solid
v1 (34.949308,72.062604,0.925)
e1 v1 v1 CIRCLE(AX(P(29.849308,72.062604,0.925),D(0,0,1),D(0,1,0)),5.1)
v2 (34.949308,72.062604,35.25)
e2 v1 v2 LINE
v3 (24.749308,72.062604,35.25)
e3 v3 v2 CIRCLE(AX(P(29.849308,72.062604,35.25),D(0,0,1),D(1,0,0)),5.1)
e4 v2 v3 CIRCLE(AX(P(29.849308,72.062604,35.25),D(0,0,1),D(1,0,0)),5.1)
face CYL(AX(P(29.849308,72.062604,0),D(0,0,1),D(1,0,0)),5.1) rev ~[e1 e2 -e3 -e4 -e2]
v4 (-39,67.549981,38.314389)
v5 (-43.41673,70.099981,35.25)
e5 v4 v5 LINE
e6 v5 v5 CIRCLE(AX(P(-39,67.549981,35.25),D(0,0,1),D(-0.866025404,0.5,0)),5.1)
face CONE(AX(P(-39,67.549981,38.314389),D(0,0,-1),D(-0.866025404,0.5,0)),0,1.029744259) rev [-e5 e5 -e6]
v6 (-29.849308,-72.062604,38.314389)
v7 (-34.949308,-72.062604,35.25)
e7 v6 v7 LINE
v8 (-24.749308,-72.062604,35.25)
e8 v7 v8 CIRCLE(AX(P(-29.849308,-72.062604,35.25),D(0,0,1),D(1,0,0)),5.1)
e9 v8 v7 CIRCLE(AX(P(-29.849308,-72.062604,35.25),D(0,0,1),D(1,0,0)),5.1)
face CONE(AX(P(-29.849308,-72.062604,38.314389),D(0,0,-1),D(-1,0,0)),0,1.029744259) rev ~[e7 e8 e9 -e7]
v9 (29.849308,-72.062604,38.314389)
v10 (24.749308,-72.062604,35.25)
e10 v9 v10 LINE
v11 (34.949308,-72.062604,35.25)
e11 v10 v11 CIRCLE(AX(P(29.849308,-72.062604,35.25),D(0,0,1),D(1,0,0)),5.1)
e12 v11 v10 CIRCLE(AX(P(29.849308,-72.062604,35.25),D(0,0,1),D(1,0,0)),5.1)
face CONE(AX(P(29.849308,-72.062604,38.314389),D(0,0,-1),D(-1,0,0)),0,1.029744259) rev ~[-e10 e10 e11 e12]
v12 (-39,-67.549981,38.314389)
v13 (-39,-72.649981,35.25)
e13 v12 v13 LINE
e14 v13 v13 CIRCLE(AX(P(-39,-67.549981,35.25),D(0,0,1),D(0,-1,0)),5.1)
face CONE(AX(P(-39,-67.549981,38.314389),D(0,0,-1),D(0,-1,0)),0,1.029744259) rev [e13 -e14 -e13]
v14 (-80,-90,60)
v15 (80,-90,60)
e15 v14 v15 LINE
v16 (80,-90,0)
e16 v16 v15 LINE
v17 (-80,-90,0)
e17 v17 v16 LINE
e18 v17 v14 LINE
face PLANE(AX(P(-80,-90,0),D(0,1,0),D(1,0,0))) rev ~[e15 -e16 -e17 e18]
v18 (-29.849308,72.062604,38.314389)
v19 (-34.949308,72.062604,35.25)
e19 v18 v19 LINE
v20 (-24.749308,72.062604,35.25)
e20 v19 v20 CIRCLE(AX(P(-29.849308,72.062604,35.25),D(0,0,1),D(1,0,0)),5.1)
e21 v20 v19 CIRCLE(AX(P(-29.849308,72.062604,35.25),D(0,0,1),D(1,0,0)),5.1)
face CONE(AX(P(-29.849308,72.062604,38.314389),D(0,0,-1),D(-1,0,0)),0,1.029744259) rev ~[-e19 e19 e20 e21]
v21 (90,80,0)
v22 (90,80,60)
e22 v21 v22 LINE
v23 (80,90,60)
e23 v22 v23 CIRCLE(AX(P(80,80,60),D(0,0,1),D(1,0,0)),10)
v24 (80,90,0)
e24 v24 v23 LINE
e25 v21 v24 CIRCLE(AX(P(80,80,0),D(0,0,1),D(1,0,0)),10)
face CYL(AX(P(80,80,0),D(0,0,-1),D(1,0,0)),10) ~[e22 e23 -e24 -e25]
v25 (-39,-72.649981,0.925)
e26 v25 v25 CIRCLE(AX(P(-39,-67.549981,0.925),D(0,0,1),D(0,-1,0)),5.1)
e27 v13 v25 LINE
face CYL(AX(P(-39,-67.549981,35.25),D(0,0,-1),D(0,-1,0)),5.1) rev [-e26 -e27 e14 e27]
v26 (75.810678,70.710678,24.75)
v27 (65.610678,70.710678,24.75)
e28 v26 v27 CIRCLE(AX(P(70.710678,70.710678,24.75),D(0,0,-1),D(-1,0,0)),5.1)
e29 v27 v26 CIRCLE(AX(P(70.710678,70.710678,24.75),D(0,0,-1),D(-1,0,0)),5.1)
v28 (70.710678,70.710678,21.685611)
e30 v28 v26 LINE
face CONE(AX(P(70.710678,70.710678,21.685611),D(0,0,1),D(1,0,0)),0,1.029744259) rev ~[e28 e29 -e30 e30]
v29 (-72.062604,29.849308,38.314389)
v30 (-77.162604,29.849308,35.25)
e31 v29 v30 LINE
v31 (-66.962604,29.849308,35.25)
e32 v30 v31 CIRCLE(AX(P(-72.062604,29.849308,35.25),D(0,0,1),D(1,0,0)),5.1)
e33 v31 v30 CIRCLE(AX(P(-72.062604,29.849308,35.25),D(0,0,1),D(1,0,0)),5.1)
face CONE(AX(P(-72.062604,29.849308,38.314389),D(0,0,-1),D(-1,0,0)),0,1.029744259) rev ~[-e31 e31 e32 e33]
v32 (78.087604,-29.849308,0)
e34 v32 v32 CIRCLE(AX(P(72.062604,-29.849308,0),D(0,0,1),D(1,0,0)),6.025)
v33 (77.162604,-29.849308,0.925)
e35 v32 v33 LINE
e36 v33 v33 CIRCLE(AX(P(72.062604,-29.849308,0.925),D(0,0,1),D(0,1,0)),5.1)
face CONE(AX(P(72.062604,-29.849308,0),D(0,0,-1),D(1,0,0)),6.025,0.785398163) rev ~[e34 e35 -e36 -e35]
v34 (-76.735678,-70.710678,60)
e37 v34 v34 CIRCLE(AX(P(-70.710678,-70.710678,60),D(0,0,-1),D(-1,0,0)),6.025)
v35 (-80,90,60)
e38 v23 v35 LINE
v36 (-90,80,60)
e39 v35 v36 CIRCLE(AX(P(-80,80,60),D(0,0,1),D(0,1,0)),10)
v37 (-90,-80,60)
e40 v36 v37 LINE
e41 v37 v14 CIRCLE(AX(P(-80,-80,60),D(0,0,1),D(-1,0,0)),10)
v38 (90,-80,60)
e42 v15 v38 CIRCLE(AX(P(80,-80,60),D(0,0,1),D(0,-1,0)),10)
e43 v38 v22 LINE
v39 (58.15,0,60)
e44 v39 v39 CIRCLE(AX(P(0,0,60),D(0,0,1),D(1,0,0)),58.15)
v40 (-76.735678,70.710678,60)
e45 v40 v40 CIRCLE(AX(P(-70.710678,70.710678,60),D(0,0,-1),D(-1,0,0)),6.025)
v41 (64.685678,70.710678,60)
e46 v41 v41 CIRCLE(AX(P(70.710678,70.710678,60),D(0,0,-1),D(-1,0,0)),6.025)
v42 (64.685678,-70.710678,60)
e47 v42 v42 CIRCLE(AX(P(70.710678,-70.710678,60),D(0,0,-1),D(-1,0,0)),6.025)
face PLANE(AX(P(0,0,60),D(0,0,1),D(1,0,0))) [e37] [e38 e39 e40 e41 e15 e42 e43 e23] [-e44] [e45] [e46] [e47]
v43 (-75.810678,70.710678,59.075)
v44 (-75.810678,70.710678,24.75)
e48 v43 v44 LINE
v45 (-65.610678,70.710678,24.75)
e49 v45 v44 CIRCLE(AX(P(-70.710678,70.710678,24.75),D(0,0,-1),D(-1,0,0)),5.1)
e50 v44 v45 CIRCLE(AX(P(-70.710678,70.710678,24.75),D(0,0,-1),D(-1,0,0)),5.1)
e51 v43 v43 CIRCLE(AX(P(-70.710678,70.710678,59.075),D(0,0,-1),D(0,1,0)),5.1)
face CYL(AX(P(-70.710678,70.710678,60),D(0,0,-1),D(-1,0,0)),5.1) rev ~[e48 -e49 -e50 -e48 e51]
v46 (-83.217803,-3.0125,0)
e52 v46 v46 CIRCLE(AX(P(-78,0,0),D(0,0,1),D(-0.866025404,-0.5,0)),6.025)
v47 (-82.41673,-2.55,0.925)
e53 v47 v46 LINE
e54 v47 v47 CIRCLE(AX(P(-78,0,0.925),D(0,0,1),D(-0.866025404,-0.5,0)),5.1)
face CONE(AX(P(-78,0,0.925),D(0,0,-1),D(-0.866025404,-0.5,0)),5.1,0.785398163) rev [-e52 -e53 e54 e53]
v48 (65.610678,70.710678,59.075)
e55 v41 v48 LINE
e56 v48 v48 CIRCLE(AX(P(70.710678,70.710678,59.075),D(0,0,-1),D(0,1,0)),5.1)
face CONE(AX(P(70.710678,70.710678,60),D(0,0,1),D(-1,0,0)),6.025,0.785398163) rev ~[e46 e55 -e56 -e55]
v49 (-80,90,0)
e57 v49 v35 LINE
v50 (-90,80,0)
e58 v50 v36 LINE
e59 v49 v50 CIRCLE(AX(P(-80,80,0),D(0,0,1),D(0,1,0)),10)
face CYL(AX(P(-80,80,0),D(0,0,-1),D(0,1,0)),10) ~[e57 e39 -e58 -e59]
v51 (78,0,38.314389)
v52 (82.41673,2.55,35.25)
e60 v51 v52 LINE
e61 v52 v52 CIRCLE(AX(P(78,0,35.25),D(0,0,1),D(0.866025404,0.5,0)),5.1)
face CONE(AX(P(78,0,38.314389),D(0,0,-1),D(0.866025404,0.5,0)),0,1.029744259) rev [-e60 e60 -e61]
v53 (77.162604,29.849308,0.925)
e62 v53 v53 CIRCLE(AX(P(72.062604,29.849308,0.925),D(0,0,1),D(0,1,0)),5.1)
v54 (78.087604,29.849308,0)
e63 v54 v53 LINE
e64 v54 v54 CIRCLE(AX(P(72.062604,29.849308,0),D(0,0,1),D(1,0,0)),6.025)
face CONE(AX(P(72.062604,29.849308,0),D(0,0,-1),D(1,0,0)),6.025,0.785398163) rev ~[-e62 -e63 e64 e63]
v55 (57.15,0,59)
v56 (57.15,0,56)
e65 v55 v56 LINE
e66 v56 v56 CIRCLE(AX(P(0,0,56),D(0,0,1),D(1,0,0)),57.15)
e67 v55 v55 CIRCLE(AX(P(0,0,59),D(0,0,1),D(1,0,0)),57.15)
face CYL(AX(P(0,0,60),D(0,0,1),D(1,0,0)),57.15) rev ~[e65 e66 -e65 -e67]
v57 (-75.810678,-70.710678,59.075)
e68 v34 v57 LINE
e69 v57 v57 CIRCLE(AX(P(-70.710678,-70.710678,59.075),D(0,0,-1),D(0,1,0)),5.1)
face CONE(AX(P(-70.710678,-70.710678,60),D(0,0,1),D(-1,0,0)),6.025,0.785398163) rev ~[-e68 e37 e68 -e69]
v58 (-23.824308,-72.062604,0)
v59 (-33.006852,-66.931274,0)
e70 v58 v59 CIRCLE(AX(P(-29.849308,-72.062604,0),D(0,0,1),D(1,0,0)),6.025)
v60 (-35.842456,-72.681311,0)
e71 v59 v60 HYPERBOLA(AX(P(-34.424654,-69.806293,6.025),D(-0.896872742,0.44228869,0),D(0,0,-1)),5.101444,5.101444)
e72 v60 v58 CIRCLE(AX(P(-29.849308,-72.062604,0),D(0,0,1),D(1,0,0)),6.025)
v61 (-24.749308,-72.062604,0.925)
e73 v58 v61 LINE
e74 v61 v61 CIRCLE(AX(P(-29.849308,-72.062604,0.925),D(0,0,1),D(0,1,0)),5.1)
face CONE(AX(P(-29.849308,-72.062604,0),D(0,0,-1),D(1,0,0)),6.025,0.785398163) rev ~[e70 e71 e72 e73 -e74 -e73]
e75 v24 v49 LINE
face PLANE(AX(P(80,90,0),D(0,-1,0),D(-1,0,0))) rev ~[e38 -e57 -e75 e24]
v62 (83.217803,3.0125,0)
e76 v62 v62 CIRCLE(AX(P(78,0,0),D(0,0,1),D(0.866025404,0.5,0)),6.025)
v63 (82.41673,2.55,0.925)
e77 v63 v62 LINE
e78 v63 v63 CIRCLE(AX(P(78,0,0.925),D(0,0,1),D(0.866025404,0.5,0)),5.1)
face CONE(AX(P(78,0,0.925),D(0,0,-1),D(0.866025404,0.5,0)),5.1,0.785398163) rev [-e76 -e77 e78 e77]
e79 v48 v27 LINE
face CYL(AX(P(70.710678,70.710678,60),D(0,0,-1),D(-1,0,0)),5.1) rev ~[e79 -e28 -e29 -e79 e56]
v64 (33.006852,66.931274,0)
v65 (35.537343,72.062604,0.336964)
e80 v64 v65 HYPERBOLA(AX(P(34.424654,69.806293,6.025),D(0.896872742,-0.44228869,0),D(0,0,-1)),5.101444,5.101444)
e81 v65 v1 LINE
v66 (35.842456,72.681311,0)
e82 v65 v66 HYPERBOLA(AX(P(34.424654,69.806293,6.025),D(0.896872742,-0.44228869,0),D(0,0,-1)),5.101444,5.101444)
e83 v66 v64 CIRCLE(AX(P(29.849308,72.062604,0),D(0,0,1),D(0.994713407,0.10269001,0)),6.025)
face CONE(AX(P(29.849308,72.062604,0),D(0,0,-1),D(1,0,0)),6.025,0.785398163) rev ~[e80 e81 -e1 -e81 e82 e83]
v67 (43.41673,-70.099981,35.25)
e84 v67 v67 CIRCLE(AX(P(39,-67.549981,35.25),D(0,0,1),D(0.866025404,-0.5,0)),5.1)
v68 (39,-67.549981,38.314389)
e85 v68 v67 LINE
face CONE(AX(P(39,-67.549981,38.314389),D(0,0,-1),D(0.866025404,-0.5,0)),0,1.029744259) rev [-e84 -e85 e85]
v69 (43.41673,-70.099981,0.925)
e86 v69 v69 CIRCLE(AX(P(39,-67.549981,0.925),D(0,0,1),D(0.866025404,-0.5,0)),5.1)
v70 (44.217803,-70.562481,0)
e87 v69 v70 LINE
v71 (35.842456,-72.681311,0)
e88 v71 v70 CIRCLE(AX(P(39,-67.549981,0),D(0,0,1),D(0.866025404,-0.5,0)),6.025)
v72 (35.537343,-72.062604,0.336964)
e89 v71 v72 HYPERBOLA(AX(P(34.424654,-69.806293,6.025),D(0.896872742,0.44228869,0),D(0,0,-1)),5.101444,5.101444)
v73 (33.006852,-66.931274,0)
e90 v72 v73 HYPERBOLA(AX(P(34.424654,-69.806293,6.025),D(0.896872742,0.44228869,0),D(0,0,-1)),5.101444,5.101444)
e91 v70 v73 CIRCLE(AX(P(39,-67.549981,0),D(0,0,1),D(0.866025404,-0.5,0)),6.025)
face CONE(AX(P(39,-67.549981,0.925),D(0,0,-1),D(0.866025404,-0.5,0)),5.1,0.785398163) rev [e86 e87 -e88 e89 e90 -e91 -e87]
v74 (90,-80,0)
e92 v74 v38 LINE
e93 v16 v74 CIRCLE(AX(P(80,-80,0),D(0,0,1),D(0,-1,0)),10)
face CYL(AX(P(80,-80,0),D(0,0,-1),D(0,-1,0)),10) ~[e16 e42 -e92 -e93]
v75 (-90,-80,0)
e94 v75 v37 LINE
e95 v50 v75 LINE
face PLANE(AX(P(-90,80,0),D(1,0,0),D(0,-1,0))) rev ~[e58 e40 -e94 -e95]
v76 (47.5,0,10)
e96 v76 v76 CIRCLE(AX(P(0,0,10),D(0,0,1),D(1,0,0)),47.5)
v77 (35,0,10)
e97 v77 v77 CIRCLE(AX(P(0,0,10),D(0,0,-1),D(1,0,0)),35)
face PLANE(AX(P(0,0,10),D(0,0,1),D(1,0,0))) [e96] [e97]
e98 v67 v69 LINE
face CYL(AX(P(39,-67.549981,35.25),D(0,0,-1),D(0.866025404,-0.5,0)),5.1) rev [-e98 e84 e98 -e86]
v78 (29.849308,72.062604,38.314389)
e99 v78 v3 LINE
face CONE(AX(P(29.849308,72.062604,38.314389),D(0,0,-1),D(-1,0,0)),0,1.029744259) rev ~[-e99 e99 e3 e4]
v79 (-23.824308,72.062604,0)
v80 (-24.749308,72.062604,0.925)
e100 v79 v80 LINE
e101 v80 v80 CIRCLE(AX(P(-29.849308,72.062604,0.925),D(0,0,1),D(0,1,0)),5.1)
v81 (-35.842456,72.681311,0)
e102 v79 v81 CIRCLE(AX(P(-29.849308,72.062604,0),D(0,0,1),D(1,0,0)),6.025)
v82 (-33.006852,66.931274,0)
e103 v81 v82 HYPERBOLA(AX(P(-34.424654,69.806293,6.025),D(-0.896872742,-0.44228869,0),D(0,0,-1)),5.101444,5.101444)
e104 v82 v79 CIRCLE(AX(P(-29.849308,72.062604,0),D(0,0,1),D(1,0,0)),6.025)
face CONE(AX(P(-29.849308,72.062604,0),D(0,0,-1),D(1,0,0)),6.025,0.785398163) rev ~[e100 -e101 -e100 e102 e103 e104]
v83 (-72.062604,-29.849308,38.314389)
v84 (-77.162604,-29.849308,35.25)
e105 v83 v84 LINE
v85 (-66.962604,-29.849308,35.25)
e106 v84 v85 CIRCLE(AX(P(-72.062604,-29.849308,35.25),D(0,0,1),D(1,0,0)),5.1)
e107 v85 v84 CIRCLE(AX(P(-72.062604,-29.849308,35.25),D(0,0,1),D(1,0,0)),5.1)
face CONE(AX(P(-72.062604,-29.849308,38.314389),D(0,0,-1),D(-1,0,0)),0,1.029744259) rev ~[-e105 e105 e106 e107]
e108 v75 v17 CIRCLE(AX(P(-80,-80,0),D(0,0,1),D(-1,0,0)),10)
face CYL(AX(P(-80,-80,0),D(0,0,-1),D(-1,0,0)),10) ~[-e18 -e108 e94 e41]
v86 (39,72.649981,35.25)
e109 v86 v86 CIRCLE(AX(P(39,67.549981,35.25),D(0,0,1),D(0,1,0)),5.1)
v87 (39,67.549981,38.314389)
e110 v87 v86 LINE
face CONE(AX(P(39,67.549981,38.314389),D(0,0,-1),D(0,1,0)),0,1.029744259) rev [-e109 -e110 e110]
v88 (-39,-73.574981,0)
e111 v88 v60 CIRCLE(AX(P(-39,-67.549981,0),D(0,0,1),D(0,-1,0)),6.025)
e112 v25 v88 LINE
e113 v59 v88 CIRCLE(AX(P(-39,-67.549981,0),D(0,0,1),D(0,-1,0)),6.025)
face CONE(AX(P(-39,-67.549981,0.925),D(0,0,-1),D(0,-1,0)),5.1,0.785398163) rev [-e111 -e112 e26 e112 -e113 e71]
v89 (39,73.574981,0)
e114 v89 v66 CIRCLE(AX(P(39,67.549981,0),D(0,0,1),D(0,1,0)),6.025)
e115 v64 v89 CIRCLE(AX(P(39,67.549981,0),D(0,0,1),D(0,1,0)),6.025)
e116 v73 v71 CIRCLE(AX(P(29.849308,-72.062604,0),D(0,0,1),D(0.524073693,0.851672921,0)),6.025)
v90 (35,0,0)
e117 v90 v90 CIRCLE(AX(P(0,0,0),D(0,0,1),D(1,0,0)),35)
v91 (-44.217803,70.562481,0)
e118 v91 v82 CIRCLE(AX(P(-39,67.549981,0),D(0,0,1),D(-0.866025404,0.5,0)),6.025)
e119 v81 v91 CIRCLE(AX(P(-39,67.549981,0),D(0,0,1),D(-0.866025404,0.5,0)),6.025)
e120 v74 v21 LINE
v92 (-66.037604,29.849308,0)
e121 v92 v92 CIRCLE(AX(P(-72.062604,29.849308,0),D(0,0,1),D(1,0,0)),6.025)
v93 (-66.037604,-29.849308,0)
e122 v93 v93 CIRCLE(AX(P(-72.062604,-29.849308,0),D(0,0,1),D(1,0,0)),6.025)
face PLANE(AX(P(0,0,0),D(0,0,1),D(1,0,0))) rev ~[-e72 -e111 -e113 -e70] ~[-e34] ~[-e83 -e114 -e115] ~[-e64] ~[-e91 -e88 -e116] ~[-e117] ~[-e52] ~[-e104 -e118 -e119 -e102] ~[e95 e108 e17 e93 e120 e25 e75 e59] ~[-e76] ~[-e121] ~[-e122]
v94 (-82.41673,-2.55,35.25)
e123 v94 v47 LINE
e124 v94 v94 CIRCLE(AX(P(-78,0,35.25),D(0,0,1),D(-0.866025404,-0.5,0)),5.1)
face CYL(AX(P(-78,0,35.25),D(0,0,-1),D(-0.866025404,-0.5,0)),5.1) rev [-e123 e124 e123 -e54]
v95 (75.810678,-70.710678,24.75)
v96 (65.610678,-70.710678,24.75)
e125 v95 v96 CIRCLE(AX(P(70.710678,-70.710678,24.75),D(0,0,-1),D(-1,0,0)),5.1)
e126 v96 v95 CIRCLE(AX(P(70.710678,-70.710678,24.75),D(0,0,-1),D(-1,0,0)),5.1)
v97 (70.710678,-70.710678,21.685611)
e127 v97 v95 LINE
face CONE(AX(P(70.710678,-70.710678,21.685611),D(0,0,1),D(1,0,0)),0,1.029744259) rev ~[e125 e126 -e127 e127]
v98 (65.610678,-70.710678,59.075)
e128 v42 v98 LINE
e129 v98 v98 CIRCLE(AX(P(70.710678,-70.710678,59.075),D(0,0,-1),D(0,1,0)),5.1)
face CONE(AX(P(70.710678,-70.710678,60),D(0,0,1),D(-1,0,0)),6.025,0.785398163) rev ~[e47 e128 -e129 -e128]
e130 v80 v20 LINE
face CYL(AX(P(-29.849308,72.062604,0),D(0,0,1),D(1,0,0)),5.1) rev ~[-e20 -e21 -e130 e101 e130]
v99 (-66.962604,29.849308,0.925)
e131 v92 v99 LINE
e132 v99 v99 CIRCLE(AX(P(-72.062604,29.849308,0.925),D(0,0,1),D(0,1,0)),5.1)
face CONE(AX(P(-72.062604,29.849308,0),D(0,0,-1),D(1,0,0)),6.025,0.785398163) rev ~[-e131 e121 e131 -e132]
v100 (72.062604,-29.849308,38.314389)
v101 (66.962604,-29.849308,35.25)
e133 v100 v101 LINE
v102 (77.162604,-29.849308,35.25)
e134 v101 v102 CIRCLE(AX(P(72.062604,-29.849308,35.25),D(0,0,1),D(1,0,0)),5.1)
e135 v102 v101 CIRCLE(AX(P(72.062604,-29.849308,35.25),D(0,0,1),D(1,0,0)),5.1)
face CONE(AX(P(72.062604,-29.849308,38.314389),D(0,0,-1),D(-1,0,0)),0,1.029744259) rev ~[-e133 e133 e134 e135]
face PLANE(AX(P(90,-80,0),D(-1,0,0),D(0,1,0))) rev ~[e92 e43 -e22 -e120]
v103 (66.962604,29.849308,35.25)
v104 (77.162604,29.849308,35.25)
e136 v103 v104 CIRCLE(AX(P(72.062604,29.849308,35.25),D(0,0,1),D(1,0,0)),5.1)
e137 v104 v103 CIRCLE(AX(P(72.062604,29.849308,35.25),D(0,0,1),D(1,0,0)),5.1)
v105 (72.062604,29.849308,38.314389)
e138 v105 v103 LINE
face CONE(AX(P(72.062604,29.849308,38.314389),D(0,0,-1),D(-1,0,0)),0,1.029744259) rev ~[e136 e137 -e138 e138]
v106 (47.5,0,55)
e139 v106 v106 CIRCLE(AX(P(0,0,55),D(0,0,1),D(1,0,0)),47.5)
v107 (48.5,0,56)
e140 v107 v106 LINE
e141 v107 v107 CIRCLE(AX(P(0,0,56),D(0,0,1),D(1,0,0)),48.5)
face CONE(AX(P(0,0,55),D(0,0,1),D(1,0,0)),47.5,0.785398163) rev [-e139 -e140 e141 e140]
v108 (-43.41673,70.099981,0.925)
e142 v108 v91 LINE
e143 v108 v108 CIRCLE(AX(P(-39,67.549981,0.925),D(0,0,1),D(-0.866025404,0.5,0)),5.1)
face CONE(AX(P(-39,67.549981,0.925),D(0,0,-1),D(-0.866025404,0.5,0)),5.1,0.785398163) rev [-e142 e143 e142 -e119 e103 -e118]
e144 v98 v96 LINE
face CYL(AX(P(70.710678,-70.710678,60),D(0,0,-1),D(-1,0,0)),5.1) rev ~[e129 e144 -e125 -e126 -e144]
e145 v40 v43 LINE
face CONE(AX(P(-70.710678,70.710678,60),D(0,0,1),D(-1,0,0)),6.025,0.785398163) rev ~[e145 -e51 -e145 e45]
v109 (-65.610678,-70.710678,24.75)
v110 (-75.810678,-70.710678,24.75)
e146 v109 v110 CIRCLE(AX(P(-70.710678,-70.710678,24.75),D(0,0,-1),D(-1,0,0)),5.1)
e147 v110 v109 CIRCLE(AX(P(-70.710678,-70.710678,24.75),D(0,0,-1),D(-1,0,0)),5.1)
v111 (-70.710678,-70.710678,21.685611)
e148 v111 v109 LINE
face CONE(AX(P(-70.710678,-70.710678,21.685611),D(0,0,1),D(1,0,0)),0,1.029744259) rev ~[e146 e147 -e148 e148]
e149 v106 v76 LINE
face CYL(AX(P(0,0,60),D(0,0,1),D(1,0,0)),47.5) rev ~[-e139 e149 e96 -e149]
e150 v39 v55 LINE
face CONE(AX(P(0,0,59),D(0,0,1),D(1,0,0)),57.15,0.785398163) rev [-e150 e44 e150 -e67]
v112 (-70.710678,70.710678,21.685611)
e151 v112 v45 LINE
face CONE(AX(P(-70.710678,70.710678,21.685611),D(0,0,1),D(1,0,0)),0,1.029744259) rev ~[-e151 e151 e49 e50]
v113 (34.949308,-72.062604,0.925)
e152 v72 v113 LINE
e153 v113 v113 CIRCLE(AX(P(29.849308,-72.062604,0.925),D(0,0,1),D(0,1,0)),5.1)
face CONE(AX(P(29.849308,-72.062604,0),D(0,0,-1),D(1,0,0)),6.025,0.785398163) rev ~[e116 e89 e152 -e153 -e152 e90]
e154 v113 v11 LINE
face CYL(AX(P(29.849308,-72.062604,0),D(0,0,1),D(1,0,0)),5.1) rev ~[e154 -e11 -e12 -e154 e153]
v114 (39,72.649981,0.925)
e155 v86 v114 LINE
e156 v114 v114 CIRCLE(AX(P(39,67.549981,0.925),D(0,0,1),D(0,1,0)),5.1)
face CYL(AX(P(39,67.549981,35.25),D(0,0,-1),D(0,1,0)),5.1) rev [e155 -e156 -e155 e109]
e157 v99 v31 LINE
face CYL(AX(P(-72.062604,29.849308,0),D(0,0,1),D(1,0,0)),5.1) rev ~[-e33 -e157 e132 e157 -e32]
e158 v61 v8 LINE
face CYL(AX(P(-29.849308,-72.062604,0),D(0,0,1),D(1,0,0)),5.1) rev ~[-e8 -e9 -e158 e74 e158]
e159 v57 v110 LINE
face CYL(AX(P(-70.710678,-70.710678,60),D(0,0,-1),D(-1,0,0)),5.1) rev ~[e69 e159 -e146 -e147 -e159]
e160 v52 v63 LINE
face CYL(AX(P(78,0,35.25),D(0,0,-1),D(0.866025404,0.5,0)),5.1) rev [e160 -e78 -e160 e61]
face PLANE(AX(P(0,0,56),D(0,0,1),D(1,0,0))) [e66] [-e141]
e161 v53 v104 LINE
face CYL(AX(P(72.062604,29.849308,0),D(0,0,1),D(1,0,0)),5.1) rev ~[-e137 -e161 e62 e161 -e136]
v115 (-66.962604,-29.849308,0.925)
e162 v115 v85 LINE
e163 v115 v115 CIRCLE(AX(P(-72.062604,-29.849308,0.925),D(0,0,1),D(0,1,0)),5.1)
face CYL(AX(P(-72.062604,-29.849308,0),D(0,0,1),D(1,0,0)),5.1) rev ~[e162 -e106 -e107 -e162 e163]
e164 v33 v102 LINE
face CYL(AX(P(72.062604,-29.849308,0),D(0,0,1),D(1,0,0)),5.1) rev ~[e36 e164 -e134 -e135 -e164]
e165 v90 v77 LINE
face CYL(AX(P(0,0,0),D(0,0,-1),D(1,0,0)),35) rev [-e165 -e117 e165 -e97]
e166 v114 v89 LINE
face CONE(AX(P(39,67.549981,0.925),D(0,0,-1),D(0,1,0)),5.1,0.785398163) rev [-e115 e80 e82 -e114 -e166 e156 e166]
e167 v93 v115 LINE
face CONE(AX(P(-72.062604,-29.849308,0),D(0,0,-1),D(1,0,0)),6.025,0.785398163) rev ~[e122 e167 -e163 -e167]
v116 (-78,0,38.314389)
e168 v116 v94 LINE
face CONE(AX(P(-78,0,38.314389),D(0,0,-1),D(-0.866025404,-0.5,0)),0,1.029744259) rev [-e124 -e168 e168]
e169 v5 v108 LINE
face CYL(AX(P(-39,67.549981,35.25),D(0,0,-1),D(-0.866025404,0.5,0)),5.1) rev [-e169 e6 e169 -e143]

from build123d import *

# Parameters (mm, degrees)
SKETCH1_R                         = 35
BOSS_EXTRUDE1_DEPTH               = 60
M12X1_75_TAPPED_HOLE1_D           = 10.2
M12X1_75_TAPPED_HOLE1_DEPTH       = 35.25
M12X1_75_TAPPED_HOLE1_CSINK_D     = 12.05
M12X1_75_TAPPED_HOLE1_CSINK_ANGLE = 90
M12X1_75_TAPPED_HOLE1_TIP         = 3.064389157
SKETCH5_R                         = 57.15
CUT_EXTRUDE1_DEPTH                = 4
CIRPATTERN1_COUNT                 = 6
SKETCH9_R                         = 47.5
CUT_EXTRUDE2_DEPTH                = 50
CHAMFER1_SIZE                     = 1
M12_TAPPED_HOLE2_D                = 10.2
M12_TAPPED_HOLE2_DEPTH            = 35.25
M12_TAPPED_HOLE2_CSINK_D          = 12.05
M12_TAPPED_HOLE2_CSINK_ANGLE      = 90
M12_TAPPED_HOLE2_TIP              = 3.064389157


with BuildPart() as part:
    # Sketch1 → Boss-Extrude1 (new body)
    with BuildSketch(Plane.XY):
        with BuildLine():
            Line((-80, -90), (80, -90))
            ThreePointArc((80, -90), (87.071067812, -87.071067812), (90, -80))
            Line((90, -80), (90, 80))
            ThreePointArc((90, 80), (87.071067812, 87.071067812), (80, 90))
            Line((80, 90), (-80, 90))
            ThreePointArc((-80, 90), (-87.071067812, 87.071067812), (-90, 80))
            Line((-90, 80), (-90, -80))
            ThreePointArc((-90, -80), (-87.071067812, -87.071067812), (-80, -90))
        make_face()
        Circle(SKETCH1_R, mode=Mode.SUBTRACT)
    extrude(amount=BOSS_EXTRUDE1_DEPTH)

    # M12x1.75 Tapped Hole1
    with Locations(Plane.XY.offset(60)):
        with Locations((-70.710678119, 70.710678119), (70.710678119, 70.710678119), (70.710678119, -70.710678119), (-70.710678119, -70.710678119)):
            CounterSinkHole(M12X1_75_TAPPED_HOLE1_D / 2, M12X1_75_TAPPED_HOLE1_CSINK_D / 2, depth=M12X1_75_TAPPED_HOLE1_DEPTH, counter_sink_angle=M12X1_75_TAPPED_HOLE1_CSINK_ANGLE)
            with Locations((0, 0, -(M12X1_75_TAPPED_HOLE1_DEPTH + M12X1_75_TAPPED_HOLE1_TIP / 2))):  # 118° drill point
                Cone(0, M12X1_75_TAPPED_HOLE1_D / 2, M12X1_75_TAPPED_HOLE1_TIP, mode=Mode.SUBTRACT)

    # Sketch5 → Cut-Extrude1 (cut)
    with BuildSketch(Plane.XY.offset(60)):
        Circle(SKETCH5_R)
    extrude(amount=-CUT_EXTRUDE1_DEPTH, mode=Mode.SUBTRACT)

    # Sketch8 → M12 Tapped Hole1 (revolve, cut)
    with BuildSketch(Plane(origin=(39, 67.549981495, 0), x_dir=(0, 1, 0), z_dir=(1, 0, 0))):
        Polygon((0, 0), (0, 38.314389157), (5.1, 35.25), (5.1, 0.925), (6.025, 0), align=None)
    m12_tapped_hole1 = revolve(axis=Axis((39, 67.549981495, -6.35), (0, 0, 1)), mode=Mode.SUBTRACT)

    # CirPattern1: M12 Tapped Hole1 ×6 about axis
    cirpattern1_axis = Axis((0, 0, 0), (0, 0, 1))
    for i in range(1, CIRPATTERN1_COUNT):
        add(m12_tapped_hole1.rotate(cirpattern1_axis, i * 360 / CIRPATTERN1_COUNT), mode=Mode.SUBTRACT)

    # Sketch9 → Cut-Extrude2 (cut)
    with BuildSketch(Plane.XY.offset(60)):
        Circle(SKETCH9_R)
    extrude(amount=-CUT_EXTRUDE2_DEPTH, mode=Mode.SUBTRACT)

    # Chamfer1
    chamfer1_edges = [part.edges().sort_by_distance(p)[0] for p in [
        (-57.15, 0, 60),
        (-47.5, 0, 56),
    ]]
    chamfer(chamfer1_edges, length=CHAMFER1_SIZE)

    # M12 Tapped Hole2
    with Locations(Plane(origin=(29.849307724, 72.062603536, 0), x_dir=(-1, 0, 0), z_dir=(0, 0, -1))):
        with Locations((0, 0), (59.698615448, 0), (101.91191126, -42.213295812), (101.91191126, -101.91191126), (59.698615448, -144.125207072), (0, -144.125207072), (-42.213295812, -101.91191126), (-42.213295812, -42.213295812)):
            CounterSinkHole(M12_TAPPED_HOLE2_D / 2, M12_TAPPED_HOLE2_CSINK_D / 2, depth=M12_TAPPED_HOLE2_DEPTH, counter_sink_angle=M12_TAPPED_HOLE2_CSINK_ANGLE)
            with Locations((0, 0, -(M12_TAPPED_HOLE2_DEPTH + M12_TAPPED_HOLE2_TIP / 2))):  # 118° drill point
                Cone(0, M12_TAPPED_HOLE2_D / 2, M12_TAPPED_HOLE2_TIP, mode=Mode.SUBTRACT)


solid = part.part
